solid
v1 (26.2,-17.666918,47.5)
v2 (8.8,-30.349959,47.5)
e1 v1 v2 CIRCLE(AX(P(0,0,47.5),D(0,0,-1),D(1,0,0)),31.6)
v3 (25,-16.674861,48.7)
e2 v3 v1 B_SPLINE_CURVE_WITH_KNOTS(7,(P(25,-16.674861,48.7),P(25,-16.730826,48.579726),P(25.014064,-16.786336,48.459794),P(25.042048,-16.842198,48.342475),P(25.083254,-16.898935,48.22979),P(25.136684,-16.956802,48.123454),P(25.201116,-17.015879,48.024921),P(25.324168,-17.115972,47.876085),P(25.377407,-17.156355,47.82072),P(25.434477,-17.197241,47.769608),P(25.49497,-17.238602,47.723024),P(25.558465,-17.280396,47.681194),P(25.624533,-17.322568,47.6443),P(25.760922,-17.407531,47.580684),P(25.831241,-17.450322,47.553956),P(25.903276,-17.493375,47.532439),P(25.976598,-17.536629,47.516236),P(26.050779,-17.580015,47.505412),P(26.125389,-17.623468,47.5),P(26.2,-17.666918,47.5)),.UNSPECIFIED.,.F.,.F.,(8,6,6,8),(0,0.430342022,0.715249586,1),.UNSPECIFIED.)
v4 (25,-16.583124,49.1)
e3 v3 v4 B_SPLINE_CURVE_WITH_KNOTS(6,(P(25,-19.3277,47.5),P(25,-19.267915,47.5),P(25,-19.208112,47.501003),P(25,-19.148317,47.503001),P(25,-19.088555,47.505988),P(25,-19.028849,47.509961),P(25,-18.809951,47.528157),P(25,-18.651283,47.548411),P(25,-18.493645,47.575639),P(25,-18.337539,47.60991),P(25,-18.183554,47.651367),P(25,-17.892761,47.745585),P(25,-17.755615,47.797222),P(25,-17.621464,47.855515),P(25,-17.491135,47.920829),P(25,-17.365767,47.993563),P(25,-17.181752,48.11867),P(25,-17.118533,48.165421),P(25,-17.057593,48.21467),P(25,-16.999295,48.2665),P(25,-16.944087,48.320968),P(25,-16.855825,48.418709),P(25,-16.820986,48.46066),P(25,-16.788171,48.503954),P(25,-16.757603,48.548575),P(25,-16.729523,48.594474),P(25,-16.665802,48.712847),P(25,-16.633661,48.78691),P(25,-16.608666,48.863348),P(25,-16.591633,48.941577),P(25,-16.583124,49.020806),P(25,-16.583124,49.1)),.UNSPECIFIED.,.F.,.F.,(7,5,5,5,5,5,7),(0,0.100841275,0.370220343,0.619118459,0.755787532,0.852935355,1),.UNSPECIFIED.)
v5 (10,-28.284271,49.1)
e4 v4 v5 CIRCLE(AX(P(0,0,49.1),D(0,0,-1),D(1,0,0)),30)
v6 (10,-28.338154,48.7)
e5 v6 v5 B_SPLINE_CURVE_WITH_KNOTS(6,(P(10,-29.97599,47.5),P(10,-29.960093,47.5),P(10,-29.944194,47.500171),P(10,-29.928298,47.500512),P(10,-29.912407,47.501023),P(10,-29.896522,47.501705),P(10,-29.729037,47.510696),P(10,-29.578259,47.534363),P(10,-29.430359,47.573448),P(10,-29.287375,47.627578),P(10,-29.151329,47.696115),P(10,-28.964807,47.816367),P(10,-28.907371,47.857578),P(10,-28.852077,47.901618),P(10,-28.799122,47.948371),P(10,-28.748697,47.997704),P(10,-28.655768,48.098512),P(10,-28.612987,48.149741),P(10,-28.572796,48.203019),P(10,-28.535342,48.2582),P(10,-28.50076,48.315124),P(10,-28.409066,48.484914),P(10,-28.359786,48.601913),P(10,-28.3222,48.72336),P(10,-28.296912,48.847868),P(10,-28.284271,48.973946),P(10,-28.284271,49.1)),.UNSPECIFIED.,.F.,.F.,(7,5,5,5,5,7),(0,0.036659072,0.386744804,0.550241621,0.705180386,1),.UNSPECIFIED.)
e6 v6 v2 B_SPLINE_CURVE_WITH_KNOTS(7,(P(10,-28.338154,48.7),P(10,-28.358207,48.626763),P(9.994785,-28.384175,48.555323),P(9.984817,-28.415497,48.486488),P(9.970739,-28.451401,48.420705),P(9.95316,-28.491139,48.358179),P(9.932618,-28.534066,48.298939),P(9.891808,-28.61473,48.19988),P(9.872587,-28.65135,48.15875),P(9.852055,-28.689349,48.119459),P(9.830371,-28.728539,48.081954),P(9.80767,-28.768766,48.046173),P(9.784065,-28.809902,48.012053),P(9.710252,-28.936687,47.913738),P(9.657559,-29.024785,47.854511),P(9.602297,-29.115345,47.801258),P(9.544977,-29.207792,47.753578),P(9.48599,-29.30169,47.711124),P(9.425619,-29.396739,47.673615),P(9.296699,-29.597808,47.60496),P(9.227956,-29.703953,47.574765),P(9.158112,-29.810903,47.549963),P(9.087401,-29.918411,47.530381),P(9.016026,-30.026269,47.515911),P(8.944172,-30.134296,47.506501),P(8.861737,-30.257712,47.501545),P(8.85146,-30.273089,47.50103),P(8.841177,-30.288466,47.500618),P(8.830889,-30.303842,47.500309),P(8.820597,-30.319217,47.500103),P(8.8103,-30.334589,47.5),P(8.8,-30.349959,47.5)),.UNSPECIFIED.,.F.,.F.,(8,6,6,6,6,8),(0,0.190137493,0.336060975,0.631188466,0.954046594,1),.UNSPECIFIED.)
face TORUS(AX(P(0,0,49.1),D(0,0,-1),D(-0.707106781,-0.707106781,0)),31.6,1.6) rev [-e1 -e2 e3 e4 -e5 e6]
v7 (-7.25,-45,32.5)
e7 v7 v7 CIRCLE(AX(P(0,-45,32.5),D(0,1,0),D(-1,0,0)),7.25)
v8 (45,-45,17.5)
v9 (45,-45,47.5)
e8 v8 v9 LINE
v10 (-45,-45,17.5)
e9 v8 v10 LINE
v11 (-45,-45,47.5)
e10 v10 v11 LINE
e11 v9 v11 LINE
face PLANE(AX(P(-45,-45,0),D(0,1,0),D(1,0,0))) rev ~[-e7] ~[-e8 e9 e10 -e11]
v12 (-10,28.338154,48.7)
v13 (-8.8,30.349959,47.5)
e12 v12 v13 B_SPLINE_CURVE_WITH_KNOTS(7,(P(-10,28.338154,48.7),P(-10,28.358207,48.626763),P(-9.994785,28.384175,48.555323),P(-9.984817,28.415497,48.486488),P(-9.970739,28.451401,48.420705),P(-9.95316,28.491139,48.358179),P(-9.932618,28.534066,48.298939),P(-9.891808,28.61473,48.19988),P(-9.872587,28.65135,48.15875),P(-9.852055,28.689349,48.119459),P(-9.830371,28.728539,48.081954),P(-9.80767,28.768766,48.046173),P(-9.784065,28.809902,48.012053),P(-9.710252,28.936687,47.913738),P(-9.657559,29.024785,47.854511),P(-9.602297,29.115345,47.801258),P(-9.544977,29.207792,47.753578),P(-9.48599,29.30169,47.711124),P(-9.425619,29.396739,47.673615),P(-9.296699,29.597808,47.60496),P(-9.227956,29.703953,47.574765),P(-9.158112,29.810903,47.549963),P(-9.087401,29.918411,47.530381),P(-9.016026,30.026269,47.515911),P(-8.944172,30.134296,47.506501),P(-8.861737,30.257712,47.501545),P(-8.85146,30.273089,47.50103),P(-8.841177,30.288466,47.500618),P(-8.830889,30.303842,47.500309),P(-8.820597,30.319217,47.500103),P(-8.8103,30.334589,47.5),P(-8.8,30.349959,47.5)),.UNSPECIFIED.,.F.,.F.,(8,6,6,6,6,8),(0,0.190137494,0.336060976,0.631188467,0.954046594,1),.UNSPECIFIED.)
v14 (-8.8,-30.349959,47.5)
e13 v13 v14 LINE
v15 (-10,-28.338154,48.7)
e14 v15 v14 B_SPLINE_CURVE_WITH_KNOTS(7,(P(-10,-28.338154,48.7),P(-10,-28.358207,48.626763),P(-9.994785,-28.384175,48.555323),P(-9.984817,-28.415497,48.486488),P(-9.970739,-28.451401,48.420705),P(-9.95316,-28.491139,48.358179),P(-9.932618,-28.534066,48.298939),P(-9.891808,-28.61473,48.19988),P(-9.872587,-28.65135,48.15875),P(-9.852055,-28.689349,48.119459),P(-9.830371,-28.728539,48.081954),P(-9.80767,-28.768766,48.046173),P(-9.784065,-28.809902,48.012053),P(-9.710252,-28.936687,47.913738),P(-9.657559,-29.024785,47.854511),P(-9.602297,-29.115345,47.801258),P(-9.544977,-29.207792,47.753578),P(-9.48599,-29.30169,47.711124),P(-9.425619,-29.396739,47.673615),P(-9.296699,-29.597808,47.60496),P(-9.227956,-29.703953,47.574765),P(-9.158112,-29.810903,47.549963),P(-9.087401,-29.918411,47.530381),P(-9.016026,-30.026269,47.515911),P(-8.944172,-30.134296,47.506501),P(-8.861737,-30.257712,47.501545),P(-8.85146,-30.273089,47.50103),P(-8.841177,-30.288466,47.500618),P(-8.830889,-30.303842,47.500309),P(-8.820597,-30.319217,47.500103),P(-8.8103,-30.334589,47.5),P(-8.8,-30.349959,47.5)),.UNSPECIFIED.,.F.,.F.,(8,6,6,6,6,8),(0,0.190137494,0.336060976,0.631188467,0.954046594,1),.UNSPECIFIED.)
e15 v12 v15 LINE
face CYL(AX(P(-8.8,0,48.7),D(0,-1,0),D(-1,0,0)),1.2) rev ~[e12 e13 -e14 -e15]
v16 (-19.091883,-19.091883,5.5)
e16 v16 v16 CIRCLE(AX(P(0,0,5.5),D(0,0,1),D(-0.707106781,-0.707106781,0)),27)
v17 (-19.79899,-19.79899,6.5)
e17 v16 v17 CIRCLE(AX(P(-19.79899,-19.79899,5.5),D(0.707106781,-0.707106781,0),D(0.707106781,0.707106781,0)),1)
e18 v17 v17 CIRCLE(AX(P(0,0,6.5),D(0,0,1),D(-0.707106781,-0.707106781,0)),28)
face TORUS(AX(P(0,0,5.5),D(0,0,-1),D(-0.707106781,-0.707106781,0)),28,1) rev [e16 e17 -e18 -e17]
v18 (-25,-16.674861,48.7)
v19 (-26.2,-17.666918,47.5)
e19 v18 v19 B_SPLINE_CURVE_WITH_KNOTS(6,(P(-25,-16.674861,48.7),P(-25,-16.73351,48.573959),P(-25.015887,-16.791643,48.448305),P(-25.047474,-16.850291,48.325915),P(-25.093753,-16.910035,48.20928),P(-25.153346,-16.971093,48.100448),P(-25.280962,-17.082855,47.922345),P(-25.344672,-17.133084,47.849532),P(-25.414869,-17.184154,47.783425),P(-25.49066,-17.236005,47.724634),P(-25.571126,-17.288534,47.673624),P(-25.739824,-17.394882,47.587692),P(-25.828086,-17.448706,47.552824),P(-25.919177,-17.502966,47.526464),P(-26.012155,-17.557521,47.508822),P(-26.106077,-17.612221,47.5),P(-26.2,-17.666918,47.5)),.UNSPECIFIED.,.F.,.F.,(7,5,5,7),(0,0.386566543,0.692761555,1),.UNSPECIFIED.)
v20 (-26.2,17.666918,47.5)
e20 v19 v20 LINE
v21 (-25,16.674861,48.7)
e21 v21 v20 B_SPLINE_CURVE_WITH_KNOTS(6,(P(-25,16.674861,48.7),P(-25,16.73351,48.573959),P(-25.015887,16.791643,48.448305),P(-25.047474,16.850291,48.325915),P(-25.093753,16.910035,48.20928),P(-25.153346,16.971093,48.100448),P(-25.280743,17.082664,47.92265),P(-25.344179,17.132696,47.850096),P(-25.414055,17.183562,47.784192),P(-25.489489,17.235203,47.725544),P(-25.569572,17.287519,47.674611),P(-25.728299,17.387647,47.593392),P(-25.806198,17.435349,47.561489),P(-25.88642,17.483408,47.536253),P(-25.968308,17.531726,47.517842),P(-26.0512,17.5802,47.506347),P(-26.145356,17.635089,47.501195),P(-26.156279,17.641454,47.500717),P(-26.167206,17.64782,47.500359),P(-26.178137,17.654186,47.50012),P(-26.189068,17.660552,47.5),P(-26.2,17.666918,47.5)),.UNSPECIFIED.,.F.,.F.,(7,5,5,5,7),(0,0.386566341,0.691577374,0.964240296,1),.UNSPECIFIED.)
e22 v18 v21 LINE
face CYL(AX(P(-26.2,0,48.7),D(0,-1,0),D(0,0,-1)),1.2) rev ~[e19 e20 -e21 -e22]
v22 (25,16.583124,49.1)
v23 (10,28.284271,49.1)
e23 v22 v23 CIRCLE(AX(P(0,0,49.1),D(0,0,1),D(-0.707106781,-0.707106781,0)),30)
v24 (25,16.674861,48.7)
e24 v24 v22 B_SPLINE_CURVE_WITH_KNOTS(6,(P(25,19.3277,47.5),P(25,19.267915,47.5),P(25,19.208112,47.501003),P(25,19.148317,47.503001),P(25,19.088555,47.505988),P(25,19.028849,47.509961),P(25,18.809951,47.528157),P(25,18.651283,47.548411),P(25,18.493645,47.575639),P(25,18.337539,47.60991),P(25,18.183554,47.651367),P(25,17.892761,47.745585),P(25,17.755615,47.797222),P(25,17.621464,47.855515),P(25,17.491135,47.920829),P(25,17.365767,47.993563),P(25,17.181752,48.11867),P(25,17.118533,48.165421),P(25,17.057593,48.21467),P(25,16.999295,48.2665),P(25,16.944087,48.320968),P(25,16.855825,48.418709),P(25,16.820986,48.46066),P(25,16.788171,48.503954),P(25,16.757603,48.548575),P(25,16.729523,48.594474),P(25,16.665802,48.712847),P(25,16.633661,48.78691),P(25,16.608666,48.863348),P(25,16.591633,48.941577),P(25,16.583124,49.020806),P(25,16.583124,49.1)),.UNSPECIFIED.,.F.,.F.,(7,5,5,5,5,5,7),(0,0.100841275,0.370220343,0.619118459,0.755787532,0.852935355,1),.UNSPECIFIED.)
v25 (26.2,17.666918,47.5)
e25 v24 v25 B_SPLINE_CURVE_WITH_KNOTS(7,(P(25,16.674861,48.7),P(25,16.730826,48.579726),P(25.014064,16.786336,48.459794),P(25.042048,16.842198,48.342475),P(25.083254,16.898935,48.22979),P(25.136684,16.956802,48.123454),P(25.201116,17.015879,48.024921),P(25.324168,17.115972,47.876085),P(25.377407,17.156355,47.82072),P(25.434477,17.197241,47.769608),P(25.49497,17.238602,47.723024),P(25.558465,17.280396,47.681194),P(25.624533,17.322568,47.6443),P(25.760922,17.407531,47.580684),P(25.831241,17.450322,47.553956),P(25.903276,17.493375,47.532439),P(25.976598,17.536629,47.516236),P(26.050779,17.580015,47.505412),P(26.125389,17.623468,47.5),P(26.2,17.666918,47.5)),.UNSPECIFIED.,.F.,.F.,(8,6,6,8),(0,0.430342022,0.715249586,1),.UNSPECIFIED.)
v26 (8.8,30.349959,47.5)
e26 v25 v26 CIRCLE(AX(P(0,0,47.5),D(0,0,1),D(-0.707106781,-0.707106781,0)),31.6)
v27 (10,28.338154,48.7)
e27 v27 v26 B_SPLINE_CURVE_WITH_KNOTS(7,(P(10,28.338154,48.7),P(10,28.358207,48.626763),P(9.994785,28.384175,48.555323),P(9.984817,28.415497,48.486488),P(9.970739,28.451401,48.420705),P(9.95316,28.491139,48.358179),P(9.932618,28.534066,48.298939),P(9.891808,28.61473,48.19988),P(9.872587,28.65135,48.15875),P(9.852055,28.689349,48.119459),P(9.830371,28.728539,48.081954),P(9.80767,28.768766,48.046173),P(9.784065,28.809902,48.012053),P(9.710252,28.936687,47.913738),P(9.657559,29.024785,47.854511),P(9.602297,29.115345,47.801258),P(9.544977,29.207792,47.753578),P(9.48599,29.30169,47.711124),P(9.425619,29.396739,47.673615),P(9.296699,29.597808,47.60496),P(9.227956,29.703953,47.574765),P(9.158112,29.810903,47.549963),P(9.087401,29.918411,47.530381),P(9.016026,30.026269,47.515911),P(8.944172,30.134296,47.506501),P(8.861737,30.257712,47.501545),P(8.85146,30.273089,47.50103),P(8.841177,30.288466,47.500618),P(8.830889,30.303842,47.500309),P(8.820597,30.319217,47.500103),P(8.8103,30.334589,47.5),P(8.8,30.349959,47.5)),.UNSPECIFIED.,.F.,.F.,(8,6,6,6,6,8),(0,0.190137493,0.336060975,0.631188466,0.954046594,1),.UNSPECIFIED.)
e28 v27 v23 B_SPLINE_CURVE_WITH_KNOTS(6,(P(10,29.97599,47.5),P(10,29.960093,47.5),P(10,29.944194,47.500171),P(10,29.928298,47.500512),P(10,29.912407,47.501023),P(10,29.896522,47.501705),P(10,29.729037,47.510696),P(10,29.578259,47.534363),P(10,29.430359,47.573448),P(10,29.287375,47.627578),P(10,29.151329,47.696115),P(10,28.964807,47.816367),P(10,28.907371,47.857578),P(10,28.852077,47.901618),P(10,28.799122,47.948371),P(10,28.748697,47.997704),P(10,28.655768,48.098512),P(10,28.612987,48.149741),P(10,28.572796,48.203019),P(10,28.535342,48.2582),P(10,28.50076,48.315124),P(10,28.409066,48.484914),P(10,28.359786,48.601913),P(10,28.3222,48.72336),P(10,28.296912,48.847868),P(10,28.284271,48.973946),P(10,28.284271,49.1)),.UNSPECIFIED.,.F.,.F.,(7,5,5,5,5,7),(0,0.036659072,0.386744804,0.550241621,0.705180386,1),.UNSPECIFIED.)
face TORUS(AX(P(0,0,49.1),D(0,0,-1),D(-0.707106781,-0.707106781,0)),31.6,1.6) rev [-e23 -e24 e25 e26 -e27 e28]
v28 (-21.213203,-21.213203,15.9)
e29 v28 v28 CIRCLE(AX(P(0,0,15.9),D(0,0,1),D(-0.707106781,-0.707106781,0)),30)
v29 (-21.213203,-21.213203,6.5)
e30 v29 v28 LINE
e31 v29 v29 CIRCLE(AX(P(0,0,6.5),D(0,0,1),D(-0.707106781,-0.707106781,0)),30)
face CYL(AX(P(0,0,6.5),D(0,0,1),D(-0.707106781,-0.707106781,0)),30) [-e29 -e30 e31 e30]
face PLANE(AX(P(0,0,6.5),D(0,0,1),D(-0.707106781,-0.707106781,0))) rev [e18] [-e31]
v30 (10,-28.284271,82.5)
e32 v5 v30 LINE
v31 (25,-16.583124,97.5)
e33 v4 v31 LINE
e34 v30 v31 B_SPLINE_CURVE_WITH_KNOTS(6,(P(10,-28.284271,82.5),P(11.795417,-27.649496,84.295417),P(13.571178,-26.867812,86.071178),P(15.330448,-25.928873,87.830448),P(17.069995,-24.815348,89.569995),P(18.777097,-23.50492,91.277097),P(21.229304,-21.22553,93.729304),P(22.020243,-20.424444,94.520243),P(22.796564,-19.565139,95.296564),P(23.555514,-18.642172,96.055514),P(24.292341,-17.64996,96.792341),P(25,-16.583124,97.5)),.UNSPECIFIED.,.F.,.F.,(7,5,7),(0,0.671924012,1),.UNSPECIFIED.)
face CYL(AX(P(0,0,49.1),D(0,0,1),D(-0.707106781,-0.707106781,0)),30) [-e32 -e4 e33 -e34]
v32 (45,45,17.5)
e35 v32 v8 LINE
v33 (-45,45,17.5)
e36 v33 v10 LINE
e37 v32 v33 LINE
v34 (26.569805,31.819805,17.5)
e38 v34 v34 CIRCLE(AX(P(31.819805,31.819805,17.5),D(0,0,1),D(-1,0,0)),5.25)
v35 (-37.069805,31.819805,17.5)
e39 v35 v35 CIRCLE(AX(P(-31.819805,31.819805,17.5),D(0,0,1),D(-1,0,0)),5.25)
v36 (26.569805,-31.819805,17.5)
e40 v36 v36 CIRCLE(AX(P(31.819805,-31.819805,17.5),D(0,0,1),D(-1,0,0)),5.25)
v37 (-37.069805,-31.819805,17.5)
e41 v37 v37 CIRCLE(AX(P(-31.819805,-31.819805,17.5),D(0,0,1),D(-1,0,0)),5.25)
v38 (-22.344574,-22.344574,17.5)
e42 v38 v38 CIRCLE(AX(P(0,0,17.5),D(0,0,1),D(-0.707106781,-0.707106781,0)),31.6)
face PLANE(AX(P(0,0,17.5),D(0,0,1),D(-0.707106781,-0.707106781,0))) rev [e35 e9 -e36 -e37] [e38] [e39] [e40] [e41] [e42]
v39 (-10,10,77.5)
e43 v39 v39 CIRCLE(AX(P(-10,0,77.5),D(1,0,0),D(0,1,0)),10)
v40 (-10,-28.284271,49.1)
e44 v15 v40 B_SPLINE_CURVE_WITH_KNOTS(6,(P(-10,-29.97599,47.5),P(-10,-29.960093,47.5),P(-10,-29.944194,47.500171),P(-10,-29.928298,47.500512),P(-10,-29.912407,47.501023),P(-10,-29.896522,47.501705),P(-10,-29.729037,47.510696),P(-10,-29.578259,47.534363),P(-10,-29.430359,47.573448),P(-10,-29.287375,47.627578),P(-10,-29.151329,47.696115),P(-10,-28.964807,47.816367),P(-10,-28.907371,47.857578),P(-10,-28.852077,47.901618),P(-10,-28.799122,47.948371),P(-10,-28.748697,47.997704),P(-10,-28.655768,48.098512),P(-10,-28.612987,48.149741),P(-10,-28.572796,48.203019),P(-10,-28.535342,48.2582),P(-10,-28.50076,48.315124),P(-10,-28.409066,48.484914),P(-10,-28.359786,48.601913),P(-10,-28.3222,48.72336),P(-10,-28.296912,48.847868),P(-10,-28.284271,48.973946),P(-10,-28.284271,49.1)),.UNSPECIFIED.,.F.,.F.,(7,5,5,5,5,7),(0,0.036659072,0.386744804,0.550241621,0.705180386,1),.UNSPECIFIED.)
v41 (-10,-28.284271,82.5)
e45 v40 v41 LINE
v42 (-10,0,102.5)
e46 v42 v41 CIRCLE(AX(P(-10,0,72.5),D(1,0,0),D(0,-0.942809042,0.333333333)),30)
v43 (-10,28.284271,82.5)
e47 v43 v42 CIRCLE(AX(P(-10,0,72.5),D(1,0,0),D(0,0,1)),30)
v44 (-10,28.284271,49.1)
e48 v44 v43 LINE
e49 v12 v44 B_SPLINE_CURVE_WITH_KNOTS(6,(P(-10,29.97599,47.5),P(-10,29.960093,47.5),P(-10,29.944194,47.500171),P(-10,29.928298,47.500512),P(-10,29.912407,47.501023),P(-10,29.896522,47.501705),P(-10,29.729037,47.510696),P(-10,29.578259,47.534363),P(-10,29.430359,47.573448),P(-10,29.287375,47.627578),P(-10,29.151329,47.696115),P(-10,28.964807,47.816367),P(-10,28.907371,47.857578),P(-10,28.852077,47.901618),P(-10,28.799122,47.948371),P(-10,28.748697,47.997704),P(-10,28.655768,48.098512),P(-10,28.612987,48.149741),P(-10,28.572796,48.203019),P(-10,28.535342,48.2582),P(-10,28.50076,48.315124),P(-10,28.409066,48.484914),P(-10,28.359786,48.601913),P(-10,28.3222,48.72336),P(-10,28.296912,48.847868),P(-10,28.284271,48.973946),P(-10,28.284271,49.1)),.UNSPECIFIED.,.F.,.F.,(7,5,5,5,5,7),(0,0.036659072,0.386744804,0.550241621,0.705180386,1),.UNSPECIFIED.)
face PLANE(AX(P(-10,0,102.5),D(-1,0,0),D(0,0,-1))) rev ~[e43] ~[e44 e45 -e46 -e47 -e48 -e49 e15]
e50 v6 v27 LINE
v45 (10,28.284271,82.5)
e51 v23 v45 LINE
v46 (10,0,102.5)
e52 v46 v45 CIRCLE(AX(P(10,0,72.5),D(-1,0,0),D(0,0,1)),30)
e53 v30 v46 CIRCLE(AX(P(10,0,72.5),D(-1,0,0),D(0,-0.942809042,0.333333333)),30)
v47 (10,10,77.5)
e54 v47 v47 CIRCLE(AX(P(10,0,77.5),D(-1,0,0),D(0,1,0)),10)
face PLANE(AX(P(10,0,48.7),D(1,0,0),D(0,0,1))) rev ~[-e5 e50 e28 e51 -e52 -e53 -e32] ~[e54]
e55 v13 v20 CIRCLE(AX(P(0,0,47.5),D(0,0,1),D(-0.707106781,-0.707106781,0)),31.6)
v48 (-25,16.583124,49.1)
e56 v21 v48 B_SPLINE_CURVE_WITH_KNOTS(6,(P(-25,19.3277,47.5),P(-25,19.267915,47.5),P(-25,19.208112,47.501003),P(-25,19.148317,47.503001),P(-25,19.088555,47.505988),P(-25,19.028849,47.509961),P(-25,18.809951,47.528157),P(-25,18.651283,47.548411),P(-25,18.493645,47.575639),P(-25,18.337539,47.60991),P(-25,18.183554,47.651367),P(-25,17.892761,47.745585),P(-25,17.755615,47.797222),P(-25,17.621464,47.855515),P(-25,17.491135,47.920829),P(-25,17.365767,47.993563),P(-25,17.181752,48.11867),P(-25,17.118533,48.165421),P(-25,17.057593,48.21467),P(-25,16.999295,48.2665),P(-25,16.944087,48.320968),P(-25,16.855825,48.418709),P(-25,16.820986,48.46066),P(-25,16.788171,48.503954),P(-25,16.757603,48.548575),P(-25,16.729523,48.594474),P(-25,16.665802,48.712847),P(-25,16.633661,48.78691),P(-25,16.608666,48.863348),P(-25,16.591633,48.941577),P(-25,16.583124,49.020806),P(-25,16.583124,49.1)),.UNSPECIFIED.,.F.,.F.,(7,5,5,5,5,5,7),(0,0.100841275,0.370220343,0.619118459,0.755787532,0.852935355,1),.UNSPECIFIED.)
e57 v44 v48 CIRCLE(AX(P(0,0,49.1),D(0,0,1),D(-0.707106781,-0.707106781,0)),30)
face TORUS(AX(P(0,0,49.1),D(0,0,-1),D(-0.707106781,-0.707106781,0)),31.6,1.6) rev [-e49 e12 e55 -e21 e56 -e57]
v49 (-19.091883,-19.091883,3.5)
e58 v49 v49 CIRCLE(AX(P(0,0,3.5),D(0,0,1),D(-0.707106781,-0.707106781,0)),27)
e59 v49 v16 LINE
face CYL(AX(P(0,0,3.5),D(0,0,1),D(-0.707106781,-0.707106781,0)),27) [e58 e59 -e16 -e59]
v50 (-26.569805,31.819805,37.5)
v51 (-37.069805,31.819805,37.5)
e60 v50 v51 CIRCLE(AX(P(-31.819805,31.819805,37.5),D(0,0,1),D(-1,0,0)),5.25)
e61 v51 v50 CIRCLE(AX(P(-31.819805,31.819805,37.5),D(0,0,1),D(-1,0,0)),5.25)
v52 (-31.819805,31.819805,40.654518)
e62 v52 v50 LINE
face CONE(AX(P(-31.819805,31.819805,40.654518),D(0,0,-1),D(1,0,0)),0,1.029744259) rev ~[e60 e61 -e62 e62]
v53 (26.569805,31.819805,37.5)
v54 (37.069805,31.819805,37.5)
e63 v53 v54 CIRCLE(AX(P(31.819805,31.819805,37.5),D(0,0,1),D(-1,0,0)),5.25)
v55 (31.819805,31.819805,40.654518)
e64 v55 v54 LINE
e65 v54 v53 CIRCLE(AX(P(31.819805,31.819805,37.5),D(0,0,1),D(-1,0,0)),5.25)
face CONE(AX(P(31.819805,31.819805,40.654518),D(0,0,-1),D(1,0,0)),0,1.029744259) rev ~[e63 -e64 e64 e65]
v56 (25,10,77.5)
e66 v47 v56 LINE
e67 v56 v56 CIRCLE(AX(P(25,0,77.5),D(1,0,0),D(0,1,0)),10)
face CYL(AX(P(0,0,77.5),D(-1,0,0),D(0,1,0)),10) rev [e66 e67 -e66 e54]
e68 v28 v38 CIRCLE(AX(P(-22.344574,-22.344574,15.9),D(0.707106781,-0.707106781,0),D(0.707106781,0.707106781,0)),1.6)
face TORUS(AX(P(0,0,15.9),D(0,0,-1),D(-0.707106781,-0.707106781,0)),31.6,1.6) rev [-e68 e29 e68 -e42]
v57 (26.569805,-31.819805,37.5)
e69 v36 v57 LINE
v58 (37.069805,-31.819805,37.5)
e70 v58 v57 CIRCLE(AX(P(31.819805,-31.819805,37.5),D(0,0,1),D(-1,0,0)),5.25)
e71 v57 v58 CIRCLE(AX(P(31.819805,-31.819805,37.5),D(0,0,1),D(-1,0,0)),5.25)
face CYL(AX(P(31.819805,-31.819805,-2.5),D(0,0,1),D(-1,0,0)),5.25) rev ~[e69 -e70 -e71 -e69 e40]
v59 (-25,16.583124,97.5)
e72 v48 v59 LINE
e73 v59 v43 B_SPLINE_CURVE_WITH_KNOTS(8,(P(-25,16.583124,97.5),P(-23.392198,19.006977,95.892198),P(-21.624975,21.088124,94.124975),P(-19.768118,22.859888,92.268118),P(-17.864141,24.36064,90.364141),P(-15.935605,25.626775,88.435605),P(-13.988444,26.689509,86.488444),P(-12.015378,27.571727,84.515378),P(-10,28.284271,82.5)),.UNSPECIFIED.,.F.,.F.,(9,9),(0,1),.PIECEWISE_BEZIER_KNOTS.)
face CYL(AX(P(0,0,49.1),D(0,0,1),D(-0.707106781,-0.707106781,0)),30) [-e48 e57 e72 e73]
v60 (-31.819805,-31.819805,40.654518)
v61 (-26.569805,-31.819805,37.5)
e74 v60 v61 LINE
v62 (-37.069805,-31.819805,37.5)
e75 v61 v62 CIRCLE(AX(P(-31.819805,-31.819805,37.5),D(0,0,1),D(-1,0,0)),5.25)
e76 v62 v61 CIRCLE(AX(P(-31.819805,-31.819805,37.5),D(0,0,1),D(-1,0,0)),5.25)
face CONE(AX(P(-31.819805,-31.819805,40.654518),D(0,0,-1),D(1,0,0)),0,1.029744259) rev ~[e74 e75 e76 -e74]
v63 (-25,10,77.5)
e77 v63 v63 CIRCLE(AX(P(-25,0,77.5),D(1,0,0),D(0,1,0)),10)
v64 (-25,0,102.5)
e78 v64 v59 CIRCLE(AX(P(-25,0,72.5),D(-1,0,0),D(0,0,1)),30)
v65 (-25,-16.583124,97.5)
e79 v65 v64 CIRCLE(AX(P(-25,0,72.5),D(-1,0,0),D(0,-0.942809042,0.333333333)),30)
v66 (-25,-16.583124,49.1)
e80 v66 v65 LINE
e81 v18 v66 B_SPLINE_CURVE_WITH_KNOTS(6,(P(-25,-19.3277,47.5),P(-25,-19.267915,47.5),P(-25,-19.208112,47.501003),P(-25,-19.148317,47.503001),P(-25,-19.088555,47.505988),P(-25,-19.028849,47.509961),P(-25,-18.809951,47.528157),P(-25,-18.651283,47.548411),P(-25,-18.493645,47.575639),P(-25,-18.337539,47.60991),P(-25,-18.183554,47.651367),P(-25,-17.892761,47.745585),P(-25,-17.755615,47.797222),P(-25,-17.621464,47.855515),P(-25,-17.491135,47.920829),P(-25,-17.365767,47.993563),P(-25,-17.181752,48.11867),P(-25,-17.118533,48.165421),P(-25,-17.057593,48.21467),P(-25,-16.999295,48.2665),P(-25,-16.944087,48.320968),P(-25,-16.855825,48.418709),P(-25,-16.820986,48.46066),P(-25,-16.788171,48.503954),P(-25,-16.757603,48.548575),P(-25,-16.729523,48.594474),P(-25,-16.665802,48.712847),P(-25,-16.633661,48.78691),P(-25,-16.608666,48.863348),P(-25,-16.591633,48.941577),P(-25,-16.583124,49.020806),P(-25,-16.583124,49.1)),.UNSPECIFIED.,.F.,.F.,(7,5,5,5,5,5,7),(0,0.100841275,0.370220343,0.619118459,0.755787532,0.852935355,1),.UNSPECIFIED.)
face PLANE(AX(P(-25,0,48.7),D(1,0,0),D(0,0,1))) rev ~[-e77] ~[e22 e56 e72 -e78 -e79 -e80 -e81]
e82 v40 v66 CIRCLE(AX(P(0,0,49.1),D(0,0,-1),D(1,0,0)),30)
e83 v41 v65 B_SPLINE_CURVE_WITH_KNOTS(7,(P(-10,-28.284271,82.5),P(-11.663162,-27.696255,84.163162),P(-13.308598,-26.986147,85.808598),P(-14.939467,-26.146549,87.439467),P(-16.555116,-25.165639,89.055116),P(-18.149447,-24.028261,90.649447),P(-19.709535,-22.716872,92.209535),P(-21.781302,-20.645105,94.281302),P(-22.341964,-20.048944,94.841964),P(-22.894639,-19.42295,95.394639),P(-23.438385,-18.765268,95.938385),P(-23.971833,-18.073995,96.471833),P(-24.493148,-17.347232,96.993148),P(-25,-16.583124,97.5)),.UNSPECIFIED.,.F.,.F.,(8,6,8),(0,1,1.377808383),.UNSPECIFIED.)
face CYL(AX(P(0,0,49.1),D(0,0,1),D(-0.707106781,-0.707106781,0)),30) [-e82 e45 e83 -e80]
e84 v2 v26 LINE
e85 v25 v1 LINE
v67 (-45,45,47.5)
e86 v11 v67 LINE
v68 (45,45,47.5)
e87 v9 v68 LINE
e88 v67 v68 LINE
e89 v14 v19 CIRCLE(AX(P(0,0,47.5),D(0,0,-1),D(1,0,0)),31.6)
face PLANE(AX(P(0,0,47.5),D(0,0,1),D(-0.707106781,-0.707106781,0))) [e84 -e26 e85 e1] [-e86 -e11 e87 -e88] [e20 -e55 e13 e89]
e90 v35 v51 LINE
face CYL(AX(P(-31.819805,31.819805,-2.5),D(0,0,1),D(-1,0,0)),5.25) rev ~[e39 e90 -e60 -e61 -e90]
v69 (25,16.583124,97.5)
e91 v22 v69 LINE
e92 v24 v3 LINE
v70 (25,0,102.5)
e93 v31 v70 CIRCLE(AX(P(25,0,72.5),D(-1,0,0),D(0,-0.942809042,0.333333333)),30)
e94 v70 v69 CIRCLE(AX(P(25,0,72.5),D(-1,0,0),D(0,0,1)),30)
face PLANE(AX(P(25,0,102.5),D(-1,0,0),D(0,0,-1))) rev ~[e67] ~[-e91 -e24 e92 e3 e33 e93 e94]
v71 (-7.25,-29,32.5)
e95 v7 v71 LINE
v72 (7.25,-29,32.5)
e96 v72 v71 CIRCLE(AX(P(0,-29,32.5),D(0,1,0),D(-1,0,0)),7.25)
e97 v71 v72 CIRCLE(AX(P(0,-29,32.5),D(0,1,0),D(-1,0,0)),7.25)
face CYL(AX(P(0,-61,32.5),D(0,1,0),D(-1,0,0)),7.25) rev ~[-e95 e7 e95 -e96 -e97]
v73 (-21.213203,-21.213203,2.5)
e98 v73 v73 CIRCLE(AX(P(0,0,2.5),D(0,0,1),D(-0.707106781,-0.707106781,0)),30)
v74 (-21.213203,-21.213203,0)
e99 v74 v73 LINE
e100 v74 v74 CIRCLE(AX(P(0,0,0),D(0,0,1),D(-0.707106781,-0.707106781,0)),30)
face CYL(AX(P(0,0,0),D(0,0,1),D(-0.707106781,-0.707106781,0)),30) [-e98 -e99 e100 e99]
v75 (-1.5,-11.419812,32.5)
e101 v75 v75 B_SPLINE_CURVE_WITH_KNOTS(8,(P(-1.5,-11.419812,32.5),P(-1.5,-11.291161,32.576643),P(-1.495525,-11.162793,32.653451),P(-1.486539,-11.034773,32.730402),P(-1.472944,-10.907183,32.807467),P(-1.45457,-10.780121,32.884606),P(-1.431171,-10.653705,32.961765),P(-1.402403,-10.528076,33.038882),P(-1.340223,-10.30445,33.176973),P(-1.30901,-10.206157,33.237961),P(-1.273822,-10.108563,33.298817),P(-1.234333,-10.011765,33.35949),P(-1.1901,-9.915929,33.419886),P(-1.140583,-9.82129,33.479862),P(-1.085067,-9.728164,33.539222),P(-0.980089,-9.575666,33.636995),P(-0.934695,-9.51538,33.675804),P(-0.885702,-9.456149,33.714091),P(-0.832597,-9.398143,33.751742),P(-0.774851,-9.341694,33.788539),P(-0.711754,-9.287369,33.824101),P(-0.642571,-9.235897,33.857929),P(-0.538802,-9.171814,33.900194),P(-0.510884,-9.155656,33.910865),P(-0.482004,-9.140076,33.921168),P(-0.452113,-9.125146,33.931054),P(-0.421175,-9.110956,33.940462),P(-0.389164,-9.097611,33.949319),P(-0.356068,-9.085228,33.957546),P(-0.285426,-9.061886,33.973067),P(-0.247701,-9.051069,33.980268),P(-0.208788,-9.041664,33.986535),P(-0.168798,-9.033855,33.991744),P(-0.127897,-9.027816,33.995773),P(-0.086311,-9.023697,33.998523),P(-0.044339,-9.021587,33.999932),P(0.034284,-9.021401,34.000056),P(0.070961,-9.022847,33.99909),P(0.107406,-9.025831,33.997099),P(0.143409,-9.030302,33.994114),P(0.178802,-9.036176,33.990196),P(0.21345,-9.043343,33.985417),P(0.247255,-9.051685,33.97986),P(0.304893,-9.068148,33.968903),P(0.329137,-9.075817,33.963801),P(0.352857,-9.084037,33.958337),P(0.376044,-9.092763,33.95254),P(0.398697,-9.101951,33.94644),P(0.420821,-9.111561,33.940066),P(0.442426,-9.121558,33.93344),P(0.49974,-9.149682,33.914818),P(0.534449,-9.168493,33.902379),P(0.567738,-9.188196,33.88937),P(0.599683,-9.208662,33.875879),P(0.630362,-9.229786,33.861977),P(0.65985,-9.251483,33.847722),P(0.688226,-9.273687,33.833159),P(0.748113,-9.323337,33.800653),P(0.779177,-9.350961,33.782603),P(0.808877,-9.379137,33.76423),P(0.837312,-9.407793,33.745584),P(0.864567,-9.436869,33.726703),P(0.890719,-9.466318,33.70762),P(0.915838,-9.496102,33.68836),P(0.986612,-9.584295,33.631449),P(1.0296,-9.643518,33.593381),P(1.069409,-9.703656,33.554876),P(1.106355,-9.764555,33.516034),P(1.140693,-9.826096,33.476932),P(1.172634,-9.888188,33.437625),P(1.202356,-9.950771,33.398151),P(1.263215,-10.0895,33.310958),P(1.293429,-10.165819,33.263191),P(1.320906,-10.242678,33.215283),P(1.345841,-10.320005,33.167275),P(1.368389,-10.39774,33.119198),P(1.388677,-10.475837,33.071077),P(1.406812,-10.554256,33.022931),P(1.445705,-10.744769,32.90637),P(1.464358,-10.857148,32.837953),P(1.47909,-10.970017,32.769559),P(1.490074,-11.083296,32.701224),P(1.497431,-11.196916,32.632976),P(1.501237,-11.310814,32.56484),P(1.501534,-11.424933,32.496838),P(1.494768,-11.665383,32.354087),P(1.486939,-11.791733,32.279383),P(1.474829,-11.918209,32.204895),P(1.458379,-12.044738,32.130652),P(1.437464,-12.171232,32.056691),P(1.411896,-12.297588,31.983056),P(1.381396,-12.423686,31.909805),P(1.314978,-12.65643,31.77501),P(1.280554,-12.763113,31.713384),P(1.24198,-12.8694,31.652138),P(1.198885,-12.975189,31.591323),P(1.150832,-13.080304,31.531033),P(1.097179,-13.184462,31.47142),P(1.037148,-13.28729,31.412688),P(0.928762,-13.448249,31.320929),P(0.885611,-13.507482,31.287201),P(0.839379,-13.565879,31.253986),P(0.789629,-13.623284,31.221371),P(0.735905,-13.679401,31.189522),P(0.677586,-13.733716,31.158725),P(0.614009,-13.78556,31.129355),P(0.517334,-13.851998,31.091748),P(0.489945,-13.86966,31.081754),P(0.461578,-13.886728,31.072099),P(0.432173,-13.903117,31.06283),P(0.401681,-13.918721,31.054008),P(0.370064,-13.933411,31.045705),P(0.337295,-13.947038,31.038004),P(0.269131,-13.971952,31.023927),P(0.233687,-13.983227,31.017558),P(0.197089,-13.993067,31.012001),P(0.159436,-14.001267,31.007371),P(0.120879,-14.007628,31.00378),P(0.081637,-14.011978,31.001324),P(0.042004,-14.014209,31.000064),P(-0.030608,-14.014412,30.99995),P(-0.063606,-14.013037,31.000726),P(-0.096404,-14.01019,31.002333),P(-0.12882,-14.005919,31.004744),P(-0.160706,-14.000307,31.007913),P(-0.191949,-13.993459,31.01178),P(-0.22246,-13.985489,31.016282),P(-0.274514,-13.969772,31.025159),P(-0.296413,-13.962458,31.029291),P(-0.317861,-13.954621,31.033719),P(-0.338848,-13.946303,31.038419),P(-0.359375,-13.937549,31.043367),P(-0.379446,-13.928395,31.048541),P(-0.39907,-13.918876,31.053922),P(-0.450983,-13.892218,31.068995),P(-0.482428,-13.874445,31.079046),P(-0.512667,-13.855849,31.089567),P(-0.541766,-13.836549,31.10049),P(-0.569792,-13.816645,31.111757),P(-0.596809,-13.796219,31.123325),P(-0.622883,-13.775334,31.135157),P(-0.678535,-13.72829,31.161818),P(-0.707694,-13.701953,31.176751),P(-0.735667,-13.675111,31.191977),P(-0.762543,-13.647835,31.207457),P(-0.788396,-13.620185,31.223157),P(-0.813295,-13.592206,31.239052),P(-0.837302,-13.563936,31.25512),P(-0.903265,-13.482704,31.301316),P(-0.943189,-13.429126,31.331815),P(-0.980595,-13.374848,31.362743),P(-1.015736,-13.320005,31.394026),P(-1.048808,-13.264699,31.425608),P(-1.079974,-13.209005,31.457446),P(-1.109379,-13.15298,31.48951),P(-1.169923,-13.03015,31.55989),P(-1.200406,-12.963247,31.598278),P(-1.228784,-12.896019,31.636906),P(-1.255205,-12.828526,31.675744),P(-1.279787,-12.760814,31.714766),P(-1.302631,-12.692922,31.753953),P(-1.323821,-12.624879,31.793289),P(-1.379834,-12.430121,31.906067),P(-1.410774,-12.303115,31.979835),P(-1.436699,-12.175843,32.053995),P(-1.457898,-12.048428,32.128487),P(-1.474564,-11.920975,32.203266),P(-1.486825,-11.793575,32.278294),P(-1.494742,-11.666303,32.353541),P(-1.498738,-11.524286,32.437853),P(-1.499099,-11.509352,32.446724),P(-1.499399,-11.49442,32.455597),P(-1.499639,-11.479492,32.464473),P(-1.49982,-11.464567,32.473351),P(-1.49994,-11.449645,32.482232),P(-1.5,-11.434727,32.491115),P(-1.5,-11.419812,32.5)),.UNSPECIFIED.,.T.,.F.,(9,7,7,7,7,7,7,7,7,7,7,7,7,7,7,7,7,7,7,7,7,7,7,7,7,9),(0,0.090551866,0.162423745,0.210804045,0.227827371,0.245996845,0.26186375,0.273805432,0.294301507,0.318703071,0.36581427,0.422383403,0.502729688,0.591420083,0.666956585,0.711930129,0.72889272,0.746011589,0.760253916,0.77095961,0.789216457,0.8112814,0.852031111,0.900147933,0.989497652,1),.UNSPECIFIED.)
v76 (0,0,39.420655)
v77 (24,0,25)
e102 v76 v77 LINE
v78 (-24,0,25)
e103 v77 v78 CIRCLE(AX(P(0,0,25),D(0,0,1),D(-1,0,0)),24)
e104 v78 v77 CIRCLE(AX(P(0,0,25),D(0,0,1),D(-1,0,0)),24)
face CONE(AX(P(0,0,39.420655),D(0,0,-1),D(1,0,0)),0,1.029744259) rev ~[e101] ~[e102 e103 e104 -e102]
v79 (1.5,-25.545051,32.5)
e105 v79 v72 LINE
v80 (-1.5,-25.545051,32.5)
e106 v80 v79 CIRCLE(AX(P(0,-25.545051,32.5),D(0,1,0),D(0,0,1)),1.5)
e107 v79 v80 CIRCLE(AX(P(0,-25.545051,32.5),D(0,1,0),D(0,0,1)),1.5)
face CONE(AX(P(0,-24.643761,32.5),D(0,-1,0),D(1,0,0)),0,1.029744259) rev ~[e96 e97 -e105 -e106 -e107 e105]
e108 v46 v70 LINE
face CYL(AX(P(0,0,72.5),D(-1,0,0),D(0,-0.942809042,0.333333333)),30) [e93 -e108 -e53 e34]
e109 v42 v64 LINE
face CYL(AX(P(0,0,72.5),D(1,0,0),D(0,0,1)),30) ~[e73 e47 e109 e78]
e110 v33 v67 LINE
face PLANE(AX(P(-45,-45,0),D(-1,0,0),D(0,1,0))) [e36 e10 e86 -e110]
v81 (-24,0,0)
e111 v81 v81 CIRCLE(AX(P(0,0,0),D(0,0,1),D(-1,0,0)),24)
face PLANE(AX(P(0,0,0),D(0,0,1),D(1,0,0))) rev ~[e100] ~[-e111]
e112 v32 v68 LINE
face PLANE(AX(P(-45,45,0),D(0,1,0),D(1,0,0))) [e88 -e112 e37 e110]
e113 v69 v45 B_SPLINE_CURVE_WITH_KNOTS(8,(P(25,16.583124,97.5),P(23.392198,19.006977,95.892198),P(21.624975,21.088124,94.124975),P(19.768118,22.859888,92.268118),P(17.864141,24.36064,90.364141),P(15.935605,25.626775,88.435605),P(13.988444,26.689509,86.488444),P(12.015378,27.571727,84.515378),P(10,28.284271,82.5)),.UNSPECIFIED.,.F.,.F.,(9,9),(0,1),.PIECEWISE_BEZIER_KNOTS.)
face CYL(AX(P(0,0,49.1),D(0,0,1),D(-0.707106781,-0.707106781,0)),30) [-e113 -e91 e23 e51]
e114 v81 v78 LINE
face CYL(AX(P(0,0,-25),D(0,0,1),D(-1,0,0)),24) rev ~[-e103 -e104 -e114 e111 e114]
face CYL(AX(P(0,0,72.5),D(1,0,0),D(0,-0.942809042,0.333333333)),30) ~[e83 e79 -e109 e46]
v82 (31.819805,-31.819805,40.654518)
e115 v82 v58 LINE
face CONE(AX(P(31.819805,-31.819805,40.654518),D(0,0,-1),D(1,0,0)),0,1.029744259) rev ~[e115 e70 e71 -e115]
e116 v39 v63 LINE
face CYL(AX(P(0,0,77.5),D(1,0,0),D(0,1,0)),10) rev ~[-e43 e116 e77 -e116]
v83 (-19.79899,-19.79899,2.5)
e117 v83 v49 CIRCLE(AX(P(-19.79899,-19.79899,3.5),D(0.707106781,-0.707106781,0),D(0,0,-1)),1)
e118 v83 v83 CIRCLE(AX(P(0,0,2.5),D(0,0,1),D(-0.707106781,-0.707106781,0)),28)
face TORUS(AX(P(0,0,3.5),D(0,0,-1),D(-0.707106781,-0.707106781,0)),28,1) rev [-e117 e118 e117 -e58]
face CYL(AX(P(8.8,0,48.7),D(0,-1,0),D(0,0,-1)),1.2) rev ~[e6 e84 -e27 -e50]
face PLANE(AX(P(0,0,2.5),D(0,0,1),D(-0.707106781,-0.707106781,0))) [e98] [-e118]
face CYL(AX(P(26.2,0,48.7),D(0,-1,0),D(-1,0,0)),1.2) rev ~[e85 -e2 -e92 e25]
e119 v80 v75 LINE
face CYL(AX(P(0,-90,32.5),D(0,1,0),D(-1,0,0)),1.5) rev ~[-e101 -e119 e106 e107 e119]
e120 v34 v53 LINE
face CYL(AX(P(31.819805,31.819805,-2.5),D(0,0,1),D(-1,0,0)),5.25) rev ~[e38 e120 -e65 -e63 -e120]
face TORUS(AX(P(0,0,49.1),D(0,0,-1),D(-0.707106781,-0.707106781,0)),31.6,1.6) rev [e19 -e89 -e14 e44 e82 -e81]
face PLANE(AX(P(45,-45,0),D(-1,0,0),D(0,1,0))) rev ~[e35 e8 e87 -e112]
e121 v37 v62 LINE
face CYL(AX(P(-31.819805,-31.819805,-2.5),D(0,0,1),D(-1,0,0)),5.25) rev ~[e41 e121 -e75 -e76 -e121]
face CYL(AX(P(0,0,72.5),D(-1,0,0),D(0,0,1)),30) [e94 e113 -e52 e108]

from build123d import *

# Parameters (mm, degrees)
F0_W           = 90
F0_H           = 90
F1_DEPTH       = 102.5
F6_D           = 48
F6_DEPTH       = 25
F6_TIP         = 14.4206548567
F8_DEPTH       = 45.001
F8_DEPTH_BACK  = 45.001
F9_R           = 10
F10_DEPTH      = 25
F10_DEPTH_BACK = 25
F12_D          = 10.5
F12_DEPTH      = 20
F12_TIP        = 3.1545182499
F14_D          = 3
F14_DEPTH      = 45
F14_TIP        = 0.9012909285
F15_D          = 14.5
F15_DEPTH      = 16
F15_TIP        = 4.3562394879


with BuildPart() as f1:
    # F0 (on Top) → F1 (new body)
    with BuildSketch(Plane.XY):
        Rectangle(F0_W, F0_H)
    extrude(amount=F1_DEPTH)

    # F3 (on 3pt) → F4 (revolve, cut)
    with BuildSketch(Plane(origin=(0, 0, 0), x_dir=(0.7071067812, 0.7071067812, 0), z_dir=(0.7071067812, -0.7071067812, 0))):
        with BuildLine():
            Line((-30, 102.5), (-63.6396103068, 102.5))
            Line((-63.6396103068, 102.5), (-63.6396103068, 47.5))
            Line((-63.6396103068, 47.5), (-31.6, 47.5))
            ThreePointArc((-31.6, 47.5), (-30.4686291501, 47.9686291501), (-30, 49.1))
            Line((-30, 49.1), (-30, 102.5))
        make_face()
        with BuildLine():
            Line((-63.6396103068, 17.5), (-63.6396103068, 0))
            Line((-63.6396103068, 0), (-30, 0))
            Line((-30, 0), (-30, 2.5))
            Line((-30, 2.5), (-28, 2.5))
            ThreePointArc((-28, 2.5), (-27.2928932188, 2.7928932188), (-27, 3.5))
            Line((-27, 3.5), (-27, 5.5))
            ThreePointArc((-27, 5.5), (-27.2928932188, 6.2071067812), (-28, 6.5))
            Line((-28, 6.5), (-30, 6.5))
            Line((-30, 6.5), (-30, 15.9))
            ThreePointArc((-30, 15.9), (-30.4686291501, 17.0313708499), (-31.6, 17.5))
            Line((-31.6, 17.5), (-63.6396103068, 17.5))
        make_face()
    revolve(axis=Axis((0, 0, 62.0171971386), (0, 0, 1)), mode=Mode.SUBTRACT)

    # F6
    with Locations(Plane(origin=(0, 0, 0), x_dir=(1, 0, 0), z_dir=(0, 0, -1))):
        with Locations((0, 0)):
            Hole(F6_D / 2, depth=F6_DEPTH)
            with Locations((0, 0, -(F6_DEPTH + F6_TIP / 2))):  # 118° drill point
                Cone(0, F6_D / 2, F6_TIP, mode=Mode.SUBTRACT)

    # F7 (on Front) → F8 (cut, two sides)
    with BuildSketch(Plane.XZ) as f8_sk:
        with BuildLine():
            Line((-45, 102.5), (-45, 47.5))
            Line((-45, 47.5), (-26.2, 47.5))
            ThreePointArc((-26.2, 47.5), (-25.3514718626, 47.8514718626), (-25, 48.7))
            Line((-25, 48.7), (-25, 102.5))
            Line((-25, 102.5), (-45, 102.5))
        make_face()
        with BuildLine():
            Line((-8.8, 47.5), (8.8, 47.5))
            ThreePointArc((8.8, 47.5), (9.6485281374, 47.8514718626), (10, 48.7))
            Line((10, 48.7), (10, 102.5))
            Line((10, 102.5), (-10, 102.5))
            Line((-10, 102.5), (-10, 48.7))
            ThreePointArc((-10, 48.7), (-9.6485281374, 47.8514718626), (-8.8, 47.5))
        make_face()
        with BuildLine():
            Line((26.2, 47.5), (45, 47.5))
            Line((45, 47.5), (45, 102.5))
            Line((45, 102.5), (25, 102.5))
            Line((25, 102.5), (25, 48.7))
            ThreePointArc((25, 48.7), (25.3514718626, 47.8514718626), (26.2, 47.5))
        make_face()
    extrude(amount=-F8_DEPTH, mode=Mode.SUBTRACT)
    extrude(f8_sk.sketch, amount=F8_DEPTH_BACK, mode=Mode.SUBTRACT)

    # F9 (on Right) → F10 (cut, two sides)
    with BuildSketch(Plane.YZ) as f10_sk:
        with BuildLine():
            ThreePointArc((-28.2842712475, 82.5), (-17.3205080757, 96.9948974278), (0, 102.5))
            Line((0, 102.5), (-28.2842712475, 102.5))
            Line((-28.2842712475, 102.5), (-28.2842712475, 82.5))
        make_face()
        with BuildLine():
            ThreePointArc((0, 102.5), (17.3205080757, 96.9948974278), (28.2842712475, 82.5))
            Line((28.2842712475, 82.5), (28.2842712475, 102.5))
            Line((28.2842712475, 102.5), (0, 102.5))
        make_face()
        with Locations((0, 77.5)):
            Circle(F9_R)
    extrude(amount=-F10_DEPTH, mode=Mode.SUBTRACT)
    extrude(f10_sk.sketch, amount=F10_DEPTH_BACK, mode=Mode.SUBTRACT)

    # F12
    with Locations(Plane(origin=(0, 0, 17.5), x_dir=(1, 0, 0), z_dir=(0, 0, -1))):
        with Locations((-31.8198051534, -31.8198051534), (-31.8198051534, 31.8198051534), (31.8198051534, 31.8198051534), (31.8198051534, -31.8198051534)):
            Hole(F12_D / 2, depth=F12_DEPTH)
            with Locations((0, 0, -(F12_DEPTH + F12_TIP / 2))):  # 118° drill point
                Cone(0, F12_D / 2, F12_TIP, mode=Mode.SUBTRACT)

    # F14
    with Locations(Plane.XZ.offset(45)):
        with Locations((0, 32.5)):
            Hole(F14_D / 2, depth=F14_DEPTH)
            with Locations((0, 0, -(F14_DEPTH + F14_TIP / 2))):  # 118° drill point
                Cone(0, F14_D / 2, F14_TIP, mode=Mode.SUBTRACT)

    # F15
    with Locations(Plane.XZ.offset(45)):
        with Locations((0, 32.5)):
            Hole(F15_D / 2, depth=F15_DEPTH)
            with Locations((0, 0, -(F15_DEPTH + F15_TIP / 2))):  # 118° drill point
                Cone(0, F15_D / 2, F15_TIP, mode=Mode.SUBTRACT)


solid = f1.part
